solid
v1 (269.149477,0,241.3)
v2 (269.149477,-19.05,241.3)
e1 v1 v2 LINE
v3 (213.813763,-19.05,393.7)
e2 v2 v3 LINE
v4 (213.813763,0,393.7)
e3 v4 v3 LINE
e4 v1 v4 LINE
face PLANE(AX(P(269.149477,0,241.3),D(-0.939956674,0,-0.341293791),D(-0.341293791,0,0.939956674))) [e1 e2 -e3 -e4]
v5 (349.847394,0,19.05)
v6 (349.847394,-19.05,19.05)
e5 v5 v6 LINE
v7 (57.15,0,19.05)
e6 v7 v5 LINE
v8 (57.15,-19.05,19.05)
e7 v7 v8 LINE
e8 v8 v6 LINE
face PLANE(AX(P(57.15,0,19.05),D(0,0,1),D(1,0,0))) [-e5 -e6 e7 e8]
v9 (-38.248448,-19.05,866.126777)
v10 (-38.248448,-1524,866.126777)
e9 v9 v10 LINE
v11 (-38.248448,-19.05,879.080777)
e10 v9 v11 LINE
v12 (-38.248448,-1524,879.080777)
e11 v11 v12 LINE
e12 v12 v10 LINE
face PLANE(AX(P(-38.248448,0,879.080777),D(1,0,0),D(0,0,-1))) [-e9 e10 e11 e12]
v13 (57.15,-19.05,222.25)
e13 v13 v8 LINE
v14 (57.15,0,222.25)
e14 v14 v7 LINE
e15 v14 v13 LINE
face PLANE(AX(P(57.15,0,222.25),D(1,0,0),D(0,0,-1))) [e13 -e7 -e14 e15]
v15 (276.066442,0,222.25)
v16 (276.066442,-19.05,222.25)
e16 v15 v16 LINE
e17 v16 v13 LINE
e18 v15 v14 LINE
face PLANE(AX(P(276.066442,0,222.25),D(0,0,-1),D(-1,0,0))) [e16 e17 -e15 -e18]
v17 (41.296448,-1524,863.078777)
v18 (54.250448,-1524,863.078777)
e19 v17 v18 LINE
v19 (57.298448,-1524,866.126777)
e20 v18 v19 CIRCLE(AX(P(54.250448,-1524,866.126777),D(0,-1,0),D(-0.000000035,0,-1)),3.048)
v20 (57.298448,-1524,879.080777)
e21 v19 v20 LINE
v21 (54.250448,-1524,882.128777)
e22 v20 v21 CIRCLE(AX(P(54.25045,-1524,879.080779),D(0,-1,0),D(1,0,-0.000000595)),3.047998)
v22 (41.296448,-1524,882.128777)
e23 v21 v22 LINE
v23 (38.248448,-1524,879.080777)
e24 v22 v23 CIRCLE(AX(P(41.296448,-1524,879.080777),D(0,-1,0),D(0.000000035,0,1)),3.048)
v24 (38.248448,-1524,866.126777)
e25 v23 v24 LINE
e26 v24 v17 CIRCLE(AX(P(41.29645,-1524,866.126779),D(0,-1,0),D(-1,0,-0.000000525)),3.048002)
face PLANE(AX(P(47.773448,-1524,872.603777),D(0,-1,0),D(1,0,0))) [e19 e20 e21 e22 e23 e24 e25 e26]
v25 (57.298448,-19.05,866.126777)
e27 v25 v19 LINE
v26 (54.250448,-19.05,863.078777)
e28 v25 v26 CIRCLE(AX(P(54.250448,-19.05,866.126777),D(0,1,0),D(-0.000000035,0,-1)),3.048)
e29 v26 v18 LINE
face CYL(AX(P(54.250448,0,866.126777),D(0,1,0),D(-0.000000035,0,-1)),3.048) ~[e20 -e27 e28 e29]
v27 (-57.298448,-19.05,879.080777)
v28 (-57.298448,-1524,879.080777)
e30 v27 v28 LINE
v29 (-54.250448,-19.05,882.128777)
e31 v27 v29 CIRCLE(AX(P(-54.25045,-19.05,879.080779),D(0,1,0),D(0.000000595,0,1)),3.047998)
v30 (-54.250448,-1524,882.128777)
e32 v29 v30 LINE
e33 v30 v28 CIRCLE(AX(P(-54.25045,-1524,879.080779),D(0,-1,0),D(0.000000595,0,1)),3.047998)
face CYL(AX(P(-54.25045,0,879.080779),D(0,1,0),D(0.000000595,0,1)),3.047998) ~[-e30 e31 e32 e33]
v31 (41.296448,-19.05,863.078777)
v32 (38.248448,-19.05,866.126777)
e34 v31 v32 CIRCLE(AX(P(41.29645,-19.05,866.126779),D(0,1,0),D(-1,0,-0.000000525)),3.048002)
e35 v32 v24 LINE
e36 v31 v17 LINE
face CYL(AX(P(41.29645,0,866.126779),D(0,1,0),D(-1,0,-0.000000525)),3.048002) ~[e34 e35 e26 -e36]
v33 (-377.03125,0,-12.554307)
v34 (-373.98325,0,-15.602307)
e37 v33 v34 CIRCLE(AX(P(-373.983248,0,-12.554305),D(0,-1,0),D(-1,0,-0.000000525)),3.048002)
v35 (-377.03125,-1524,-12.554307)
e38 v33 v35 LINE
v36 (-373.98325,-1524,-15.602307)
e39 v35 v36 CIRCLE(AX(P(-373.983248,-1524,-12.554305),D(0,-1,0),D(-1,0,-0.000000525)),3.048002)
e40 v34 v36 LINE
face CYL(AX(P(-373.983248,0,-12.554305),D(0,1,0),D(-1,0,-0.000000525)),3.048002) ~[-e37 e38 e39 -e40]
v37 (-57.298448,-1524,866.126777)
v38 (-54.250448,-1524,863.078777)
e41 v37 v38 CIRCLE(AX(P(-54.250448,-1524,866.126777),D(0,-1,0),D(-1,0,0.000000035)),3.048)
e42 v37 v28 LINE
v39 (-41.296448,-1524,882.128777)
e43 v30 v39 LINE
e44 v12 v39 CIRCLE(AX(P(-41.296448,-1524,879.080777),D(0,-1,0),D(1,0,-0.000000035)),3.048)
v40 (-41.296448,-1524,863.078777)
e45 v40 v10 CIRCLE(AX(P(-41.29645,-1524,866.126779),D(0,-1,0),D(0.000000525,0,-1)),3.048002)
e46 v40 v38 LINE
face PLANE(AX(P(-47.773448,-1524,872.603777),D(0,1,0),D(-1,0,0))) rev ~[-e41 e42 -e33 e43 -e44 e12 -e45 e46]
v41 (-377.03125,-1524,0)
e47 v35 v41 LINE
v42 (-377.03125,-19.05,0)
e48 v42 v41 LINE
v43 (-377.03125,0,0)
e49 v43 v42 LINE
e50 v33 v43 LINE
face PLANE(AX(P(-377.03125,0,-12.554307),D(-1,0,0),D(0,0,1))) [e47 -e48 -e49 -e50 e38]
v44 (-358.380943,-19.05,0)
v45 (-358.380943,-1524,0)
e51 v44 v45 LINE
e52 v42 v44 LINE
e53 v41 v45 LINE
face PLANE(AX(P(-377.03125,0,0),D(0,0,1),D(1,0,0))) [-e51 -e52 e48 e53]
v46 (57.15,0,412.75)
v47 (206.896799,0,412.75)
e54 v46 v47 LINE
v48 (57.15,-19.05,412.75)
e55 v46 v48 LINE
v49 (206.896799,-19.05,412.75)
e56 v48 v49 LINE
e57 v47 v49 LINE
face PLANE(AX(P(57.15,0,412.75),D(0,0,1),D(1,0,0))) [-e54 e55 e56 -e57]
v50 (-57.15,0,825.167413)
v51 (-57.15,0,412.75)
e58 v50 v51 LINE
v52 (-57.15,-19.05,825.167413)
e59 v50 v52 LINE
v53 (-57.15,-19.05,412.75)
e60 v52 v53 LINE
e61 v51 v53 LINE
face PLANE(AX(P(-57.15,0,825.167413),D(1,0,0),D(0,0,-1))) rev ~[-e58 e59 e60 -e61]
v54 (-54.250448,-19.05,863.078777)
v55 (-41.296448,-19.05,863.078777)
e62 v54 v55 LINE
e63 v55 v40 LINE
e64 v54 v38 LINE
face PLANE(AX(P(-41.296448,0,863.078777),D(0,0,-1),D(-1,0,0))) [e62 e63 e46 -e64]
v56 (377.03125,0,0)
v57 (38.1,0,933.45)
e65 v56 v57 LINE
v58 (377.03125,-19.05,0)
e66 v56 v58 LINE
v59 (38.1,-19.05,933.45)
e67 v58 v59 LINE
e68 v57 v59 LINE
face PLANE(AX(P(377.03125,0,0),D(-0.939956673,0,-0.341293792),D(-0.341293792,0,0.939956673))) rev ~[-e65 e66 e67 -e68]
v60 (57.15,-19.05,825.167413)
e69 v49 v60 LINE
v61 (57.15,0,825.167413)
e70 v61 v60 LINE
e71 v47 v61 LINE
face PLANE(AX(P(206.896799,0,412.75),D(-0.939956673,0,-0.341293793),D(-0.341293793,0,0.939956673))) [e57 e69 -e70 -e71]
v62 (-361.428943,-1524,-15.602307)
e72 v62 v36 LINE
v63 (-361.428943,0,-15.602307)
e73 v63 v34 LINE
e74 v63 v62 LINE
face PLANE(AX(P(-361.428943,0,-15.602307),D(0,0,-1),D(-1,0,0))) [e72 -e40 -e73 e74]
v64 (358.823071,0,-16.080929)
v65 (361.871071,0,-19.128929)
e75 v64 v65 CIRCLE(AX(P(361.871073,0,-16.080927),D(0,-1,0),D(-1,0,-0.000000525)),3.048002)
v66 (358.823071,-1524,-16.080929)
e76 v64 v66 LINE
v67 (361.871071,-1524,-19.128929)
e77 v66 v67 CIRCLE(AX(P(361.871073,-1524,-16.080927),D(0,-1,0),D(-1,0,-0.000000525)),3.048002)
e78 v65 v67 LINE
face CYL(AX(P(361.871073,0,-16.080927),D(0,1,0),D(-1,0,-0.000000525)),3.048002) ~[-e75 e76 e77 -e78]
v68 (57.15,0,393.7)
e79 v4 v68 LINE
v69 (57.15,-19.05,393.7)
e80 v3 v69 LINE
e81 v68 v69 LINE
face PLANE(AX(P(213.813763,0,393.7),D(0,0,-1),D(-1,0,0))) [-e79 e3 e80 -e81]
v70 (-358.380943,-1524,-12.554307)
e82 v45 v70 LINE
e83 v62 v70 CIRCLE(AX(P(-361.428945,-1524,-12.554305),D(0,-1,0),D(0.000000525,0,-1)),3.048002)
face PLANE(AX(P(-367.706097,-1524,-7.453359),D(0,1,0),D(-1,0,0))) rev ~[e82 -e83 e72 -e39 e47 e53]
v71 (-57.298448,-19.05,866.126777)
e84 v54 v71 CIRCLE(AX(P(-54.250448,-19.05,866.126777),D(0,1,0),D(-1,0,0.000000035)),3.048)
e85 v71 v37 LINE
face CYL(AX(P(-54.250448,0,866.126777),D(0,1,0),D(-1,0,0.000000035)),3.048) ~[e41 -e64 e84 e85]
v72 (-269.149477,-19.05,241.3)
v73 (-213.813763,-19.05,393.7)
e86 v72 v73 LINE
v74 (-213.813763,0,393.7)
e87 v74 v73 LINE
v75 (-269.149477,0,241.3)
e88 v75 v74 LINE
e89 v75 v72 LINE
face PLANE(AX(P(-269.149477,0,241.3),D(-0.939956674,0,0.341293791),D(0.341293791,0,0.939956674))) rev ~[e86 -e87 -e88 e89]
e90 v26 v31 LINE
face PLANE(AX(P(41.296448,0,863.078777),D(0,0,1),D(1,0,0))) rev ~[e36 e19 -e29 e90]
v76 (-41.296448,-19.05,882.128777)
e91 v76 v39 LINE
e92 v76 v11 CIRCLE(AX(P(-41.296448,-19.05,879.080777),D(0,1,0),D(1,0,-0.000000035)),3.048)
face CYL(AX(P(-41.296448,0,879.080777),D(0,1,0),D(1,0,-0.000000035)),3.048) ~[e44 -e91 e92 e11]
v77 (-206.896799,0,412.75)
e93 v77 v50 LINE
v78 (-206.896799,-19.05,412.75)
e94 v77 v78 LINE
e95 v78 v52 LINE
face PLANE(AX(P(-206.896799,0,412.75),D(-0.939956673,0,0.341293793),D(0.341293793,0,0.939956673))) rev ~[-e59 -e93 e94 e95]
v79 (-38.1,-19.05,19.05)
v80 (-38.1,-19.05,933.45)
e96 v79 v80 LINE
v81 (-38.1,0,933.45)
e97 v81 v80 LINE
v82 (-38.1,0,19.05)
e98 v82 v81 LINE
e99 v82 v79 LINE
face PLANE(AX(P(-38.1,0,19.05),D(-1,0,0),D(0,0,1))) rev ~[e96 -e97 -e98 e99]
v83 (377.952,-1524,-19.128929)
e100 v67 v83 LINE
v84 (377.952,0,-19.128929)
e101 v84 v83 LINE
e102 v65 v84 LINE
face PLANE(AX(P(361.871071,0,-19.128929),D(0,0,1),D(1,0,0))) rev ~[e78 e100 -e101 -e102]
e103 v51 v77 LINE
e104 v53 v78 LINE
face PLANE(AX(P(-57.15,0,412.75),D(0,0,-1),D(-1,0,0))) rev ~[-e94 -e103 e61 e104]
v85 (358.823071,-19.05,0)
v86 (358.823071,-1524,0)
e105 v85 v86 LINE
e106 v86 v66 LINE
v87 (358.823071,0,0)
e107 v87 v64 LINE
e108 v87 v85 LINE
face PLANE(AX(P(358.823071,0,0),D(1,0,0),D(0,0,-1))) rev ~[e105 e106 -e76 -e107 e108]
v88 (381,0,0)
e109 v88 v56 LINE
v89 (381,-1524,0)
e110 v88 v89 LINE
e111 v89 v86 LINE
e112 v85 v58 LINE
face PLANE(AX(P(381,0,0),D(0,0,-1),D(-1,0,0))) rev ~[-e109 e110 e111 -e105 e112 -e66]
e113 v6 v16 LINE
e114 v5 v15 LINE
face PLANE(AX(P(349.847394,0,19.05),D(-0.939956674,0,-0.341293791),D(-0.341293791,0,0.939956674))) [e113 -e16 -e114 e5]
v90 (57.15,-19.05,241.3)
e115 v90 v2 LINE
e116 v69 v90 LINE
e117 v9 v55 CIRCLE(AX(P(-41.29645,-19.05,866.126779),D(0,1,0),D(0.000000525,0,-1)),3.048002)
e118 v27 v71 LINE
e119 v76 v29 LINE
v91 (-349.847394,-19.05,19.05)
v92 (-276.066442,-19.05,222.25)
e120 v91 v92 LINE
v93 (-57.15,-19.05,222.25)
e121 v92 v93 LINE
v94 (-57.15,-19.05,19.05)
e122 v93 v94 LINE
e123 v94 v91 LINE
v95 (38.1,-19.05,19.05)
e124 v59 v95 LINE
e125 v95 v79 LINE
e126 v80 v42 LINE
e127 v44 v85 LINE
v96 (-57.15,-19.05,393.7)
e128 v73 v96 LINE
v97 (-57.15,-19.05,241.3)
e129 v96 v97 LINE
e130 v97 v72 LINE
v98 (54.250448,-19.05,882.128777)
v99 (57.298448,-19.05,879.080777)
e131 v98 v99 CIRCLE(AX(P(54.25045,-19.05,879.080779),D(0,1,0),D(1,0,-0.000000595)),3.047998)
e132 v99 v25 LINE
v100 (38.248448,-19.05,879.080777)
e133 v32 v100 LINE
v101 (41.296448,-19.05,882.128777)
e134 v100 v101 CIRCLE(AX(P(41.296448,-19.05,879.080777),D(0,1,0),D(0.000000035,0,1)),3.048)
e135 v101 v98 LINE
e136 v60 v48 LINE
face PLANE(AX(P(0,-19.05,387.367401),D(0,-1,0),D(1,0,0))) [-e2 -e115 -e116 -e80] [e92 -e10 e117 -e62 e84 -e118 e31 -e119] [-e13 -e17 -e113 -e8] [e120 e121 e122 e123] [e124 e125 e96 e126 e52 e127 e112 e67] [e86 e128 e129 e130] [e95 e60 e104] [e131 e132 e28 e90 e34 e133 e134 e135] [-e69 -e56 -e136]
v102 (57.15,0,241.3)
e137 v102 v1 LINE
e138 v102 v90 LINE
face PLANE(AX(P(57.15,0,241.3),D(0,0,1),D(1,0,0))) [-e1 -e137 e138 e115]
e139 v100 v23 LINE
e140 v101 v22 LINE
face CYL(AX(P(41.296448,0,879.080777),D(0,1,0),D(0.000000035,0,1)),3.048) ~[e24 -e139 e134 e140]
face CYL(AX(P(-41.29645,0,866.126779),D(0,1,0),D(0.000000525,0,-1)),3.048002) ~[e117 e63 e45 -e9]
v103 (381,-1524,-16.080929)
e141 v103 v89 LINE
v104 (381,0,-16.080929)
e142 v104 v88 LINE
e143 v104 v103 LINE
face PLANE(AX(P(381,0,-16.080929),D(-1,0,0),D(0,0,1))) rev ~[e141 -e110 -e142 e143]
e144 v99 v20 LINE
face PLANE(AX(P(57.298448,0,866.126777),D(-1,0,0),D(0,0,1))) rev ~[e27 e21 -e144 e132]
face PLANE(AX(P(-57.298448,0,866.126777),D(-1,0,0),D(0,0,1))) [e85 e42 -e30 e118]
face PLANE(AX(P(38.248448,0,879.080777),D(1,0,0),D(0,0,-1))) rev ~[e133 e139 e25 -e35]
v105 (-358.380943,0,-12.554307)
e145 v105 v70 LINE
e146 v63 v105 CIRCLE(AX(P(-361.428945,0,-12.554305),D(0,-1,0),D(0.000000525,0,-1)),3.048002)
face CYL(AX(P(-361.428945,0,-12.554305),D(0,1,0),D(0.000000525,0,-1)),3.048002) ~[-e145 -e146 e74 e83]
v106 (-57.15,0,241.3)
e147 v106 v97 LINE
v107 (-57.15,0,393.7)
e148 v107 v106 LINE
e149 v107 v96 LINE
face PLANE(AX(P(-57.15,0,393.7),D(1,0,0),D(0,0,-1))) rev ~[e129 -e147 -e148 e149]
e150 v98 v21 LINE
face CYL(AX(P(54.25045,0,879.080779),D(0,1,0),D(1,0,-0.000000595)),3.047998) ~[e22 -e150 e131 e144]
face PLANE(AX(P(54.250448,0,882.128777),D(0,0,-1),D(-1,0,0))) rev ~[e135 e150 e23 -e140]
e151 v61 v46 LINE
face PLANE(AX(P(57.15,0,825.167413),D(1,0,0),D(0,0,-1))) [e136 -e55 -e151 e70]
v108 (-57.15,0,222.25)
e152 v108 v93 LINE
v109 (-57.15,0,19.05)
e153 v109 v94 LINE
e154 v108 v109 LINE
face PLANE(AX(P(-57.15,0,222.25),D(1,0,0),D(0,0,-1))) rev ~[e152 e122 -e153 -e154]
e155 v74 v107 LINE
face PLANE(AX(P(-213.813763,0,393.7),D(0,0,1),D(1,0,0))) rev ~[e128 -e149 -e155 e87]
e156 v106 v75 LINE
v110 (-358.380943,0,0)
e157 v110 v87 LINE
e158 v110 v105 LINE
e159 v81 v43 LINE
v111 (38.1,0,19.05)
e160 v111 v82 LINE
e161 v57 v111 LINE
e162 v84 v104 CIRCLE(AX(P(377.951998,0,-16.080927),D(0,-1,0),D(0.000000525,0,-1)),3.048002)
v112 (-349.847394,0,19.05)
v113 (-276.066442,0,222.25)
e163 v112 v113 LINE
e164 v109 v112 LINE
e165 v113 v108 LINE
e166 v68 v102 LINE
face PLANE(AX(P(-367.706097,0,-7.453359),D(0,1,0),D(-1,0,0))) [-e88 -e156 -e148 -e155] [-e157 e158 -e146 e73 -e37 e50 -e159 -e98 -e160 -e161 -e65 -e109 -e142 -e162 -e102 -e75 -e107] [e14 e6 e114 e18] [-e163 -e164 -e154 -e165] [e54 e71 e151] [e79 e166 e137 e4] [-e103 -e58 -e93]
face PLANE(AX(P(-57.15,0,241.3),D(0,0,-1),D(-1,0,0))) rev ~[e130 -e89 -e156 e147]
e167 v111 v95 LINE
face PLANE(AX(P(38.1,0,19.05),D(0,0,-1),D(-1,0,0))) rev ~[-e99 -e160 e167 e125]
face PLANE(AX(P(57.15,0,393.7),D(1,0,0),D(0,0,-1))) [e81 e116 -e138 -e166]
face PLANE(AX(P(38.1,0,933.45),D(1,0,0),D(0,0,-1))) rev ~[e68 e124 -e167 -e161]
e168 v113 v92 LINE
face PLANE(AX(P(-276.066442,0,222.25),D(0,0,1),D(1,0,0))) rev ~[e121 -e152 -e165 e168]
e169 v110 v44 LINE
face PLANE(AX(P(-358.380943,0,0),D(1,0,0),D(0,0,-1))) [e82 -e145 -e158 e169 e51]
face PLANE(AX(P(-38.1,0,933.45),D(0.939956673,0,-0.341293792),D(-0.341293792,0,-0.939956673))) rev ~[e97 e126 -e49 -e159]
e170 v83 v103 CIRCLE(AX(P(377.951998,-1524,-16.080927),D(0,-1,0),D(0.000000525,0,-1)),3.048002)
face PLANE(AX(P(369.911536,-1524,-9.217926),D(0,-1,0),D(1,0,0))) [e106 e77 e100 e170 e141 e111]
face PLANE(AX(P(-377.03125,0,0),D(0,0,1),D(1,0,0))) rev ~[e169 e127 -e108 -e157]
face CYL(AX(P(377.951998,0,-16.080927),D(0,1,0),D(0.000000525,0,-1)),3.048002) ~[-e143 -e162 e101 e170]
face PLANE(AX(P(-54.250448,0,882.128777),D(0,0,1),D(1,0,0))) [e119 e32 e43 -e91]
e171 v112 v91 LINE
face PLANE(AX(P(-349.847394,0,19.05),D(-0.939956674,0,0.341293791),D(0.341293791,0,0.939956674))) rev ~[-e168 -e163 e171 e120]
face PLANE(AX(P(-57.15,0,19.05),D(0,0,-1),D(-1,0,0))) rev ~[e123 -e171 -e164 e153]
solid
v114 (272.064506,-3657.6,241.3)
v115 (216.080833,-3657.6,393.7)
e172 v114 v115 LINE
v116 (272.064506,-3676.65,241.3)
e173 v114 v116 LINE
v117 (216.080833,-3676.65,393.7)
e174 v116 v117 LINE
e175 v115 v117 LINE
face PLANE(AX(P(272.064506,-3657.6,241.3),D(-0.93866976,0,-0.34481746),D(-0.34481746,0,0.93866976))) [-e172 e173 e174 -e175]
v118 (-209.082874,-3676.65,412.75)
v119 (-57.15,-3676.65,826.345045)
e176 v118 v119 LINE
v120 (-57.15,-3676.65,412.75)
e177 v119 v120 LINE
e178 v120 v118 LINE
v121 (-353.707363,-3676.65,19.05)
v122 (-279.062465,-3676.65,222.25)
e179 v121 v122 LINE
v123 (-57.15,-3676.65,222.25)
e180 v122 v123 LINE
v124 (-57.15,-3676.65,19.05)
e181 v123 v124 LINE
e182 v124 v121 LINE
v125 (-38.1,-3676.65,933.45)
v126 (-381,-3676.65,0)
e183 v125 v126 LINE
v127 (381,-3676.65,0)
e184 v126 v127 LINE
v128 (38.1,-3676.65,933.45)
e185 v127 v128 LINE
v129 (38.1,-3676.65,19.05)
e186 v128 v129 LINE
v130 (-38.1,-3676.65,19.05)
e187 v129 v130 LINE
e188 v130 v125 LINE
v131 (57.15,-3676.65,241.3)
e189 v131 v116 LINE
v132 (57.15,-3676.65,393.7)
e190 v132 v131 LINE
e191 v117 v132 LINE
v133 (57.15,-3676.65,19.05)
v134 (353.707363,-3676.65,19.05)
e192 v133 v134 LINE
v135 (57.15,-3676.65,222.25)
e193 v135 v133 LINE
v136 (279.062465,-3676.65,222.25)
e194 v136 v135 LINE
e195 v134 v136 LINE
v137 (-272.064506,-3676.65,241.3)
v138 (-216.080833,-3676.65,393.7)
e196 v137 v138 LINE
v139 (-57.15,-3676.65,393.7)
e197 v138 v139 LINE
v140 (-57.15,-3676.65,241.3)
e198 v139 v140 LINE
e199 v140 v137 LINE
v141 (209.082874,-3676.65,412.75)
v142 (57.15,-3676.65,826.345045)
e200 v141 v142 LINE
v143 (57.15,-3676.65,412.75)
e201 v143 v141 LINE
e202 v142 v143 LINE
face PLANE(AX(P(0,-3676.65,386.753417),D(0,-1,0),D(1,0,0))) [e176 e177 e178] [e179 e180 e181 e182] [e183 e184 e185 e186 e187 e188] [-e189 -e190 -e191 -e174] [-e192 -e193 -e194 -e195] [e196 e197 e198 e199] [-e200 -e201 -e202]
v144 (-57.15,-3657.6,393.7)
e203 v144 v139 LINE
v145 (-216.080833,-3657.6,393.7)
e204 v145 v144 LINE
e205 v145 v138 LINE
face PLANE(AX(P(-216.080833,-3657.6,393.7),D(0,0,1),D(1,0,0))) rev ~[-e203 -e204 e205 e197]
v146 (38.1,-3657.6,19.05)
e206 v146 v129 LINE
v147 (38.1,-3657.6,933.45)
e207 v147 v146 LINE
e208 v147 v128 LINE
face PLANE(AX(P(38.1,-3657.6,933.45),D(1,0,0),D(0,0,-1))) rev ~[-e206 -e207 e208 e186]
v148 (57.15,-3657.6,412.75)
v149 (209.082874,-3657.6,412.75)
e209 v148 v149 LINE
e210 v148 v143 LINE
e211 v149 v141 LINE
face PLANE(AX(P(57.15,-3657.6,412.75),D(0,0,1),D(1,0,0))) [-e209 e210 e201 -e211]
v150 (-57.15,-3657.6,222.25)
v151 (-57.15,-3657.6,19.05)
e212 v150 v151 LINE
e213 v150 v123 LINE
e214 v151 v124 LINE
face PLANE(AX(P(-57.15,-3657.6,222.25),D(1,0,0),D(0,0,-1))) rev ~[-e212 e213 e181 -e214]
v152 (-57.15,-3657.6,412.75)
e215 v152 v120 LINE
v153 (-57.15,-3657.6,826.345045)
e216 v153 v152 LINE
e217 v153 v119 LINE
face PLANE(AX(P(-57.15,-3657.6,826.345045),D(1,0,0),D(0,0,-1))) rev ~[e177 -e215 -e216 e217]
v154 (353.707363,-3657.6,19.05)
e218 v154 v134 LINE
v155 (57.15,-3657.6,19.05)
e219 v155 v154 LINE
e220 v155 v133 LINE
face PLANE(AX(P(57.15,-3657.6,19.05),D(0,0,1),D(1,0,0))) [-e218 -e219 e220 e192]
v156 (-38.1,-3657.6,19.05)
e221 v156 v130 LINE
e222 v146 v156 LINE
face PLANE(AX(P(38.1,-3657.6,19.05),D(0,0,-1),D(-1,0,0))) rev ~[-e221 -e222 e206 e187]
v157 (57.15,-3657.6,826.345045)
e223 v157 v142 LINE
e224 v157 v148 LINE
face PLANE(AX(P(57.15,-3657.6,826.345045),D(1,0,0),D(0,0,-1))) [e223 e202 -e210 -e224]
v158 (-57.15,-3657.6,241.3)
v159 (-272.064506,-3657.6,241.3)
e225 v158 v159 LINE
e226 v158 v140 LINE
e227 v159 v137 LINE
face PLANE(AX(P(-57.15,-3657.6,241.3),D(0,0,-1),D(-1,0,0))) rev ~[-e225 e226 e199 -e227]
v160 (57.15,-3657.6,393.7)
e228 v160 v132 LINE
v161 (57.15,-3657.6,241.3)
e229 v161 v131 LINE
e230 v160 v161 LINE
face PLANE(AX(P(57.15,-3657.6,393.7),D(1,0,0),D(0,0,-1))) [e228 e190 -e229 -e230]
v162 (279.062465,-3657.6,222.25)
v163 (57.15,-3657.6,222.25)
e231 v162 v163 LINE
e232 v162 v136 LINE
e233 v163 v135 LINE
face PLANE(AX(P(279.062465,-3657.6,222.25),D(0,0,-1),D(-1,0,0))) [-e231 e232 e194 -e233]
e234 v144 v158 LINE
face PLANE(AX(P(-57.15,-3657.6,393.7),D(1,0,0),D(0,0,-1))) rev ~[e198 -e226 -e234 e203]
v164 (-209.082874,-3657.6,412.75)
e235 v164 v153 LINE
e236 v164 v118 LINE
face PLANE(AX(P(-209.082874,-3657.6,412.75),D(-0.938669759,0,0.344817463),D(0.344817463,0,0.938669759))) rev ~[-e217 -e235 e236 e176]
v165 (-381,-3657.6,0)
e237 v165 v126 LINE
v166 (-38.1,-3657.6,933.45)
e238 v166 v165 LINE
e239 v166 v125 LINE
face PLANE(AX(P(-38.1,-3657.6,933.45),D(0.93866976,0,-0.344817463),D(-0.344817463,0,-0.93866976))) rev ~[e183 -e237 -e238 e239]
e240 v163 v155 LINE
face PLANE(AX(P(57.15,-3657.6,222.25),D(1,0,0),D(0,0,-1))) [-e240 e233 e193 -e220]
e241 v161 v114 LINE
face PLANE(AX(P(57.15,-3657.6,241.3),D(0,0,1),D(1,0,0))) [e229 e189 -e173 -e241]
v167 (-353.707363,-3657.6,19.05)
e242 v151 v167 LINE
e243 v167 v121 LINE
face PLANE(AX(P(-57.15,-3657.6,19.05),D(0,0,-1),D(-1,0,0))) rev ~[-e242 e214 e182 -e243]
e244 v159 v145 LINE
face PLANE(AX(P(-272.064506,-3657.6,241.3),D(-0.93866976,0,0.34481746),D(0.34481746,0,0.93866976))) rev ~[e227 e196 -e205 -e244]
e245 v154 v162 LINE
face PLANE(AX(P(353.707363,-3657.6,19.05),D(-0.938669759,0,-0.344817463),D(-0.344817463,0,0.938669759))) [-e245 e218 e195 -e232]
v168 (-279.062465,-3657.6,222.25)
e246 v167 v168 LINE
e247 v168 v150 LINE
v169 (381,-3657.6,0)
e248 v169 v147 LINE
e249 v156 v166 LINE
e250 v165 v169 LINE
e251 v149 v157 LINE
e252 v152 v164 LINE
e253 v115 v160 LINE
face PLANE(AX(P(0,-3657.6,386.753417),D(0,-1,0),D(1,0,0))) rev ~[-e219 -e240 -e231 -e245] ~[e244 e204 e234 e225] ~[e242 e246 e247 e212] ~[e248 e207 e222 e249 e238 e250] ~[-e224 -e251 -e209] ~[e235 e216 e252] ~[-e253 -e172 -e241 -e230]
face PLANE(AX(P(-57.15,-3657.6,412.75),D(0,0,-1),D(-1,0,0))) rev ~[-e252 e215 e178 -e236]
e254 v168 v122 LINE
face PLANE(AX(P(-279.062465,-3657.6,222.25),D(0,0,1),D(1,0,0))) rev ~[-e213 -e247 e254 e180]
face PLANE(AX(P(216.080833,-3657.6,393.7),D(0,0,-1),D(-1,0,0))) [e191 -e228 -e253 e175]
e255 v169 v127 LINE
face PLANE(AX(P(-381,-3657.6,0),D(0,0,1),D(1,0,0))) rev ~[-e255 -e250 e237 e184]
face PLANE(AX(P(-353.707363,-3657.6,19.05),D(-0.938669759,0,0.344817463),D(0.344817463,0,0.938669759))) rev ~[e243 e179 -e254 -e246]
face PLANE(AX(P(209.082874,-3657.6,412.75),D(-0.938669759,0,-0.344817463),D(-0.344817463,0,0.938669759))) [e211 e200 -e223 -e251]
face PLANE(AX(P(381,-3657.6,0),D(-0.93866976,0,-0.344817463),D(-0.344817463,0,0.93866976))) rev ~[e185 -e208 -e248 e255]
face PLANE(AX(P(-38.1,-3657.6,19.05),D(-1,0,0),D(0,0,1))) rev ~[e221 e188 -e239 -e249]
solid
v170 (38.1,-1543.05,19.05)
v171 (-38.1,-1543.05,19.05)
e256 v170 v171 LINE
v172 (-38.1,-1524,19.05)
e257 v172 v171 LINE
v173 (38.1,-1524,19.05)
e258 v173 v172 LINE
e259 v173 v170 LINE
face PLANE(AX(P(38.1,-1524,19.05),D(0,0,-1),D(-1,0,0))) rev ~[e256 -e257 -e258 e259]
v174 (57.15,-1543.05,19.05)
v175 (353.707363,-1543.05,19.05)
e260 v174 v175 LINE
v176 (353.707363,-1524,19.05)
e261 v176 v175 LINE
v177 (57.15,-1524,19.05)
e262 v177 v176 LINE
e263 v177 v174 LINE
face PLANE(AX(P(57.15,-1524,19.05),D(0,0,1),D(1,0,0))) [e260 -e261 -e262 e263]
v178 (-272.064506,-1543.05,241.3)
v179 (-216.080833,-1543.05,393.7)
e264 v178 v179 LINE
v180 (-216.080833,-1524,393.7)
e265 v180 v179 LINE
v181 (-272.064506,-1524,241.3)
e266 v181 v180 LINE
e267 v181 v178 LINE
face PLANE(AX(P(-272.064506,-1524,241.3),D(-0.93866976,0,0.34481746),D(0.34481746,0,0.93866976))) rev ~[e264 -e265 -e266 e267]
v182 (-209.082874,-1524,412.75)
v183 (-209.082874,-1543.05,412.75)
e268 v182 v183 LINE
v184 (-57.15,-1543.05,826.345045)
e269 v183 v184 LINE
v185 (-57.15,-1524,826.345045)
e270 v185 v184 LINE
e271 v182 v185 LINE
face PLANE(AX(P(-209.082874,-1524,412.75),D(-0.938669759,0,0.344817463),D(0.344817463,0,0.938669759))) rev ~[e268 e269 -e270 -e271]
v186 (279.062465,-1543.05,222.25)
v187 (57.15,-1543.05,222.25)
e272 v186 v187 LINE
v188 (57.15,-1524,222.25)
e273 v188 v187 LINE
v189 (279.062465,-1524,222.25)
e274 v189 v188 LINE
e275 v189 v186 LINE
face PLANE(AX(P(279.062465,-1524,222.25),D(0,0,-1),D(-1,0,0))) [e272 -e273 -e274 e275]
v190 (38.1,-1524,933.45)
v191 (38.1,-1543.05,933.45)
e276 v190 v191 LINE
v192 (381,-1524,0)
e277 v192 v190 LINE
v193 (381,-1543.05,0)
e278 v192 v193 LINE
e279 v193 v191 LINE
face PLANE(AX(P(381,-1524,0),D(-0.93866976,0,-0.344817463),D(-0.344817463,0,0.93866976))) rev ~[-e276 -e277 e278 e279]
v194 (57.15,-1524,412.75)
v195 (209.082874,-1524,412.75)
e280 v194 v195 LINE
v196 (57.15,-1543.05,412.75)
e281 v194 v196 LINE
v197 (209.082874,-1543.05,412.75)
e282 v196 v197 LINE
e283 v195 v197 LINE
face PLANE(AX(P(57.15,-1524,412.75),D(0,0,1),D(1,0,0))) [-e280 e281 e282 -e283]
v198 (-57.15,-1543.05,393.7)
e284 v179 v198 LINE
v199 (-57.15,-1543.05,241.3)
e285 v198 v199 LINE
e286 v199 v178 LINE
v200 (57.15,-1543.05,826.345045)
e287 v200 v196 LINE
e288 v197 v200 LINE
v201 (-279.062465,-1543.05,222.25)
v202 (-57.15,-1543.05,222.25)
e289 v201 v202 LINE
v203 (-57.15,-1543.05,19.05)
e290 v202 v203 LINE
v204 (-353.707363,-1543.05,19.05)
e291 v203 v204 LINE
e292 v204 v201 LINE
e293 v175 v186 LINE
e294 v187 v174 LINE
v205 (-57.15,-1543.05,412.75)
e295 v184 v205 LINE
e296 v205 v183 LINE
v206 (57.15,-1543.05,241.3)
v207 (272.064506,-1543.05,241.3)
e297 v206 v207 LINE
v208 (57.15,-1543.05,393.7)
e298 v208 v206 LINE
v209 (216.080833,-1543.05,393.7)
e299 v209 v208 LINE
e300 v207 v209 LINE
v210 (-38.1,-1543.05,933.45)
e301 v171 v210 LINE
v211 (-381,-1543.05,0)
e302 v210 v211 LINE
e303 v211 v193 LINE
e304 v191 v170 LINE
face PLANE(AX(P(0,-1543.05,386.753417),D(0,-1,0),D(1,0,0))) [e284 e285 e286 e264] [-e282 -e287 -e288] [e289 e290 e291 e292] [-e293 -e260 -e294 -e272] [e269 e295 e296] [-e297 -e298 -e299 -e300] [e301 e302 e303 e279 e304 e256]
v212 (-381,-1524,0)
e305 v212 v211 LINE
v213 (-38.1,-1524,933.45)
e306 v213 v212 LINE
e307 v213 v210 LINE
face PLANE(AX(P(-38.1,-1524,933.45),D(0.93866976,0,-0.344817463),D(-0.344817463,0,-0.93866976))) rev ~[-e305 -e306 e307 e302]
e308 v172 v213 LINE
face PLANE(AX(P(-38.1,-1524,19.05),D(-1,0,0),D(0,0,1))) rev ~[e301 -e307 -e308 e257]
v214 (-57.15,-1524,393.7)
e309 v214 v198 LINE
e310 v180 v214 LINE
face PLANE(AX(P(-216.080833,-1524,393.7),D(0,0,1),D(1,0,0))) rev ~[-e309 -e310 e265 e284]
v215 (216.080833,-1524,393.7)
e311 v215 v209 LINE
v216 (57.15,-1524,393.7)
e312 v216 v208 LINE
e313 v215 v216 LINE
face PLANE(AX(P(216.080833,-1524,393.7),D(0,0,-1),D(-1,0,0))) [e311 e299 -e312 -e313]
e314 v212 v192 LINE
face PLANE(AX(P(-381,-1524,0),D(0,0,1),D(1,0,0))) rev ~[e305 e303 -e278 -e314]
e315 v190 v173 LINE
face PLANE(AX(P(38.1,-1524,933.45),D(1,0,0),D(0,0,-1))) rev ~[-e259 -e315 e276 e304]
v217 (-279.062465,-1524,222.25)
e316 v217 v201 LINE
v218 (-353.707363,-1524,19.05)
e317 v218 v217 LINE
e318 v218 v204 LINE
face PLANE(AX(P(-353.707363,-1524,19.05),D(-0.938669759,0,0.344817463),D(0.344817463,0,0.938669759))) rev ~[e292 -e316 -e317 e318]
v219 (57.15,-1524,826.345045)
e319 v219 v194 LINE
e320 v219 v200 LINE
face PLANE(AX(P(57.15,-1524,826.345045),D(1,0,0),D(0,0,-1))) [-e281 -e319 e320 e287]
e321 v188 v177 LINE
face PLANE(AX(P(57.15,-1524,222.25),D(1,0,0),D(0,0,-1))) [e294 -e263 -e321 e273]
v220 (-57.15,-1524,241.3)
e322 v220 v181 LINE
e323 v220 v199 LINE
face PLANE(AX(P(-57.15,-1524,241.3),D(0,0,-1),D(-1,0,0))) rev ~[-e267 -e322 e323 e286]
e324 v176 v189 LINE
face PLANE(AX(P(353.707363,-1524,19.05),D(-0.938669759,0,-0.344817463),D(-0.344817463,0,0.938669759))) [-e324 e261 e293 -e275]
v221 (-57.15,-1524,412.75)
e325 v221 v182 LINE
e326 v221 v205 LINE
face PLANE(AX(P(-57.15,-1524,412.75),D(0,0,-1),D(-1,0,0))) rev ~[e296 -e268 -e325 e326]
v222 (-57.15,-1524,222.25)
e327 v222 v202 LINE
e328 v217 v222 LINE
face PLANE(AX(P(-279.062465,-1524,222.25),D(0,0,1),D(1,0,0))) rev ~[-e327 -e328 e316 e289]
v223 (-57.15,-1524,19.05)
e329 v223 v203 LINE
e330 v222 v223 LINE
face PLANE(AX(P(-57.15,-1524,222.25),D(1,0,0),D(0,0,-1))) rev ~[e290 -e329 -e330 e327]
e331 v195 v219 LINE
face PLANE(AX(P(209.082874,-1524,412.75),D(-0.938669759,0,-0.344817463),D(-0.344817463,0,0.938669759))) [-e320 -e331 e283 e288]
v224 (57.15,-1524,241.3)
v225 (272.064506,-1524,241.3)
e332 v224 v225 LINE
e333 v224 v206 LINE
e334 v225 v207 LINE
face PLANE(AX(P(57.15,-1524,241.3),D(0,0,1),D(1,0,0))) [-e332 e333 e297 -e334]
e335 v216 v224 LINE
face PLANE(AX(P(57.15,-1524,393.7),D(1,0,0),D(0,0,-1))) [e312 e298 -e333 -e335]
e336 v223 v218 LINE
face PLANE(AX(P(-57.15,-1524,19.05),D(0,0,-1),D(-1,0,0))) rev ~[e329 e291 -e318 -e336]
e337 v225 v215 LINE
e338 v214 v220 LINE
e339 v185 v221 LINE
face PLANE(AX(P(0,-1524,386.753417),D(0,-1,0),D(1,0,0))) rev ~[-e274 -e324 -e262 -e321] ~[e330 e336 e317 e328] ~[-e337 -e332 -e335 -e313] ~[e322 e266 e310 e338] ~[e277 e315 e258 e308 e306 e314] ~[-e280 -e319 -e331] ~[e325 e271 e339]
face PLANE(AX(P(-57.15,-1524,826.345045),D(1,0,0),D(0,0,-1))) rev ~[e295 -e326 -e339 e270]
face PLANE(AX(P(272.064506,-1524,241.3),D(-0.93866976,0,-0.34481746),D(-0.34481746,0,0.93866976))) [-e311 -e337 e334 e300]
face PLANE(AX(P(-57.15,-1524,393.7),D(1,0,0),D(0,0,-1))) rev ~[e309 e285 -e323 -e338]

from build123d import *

# Parameters (mm, degrees)
PAD_DEPTH    = 19.05
PAD003_DEPTH = 1524
PAD001_DEPTH = 19.05
PAD002_DEPTH = 19.05


with BuildPart() as body:
    # Sketch → Pad (new body)
    with BuildSketch(Plane.XZ):
        Polygon((-377.03125, 0), (377.03125, 0), (38.1, 933.45), (38.1, 19.05), (-38.1, 19.05), (-38.1, 933.45), align=None)
        Polygon((-276.066442, 222.25), (-57.15, 222.25), (-57.15, 19.05), (-349.847394, 19.05), align=None, mode=Mode.SUBTRACT)
        Polygon((-269.149477, 241.3), (-213.813763, 393.7), (-57.15, 393.7), (-57.15, 241.3), align=None, mode=Mode.SUBTRACT)
        Polygon((-206.896799, 412.75), (-57.15, 825.167413), (-57.15, 412.75), align=None, mode=Mode.SUBTRACT)
        Polygon((57.15, 19.05), (349.847394, 19.05), (276.066442, 222.25), (57.15, 222.25), align=None, mode=Mode.SUBTRACT)
        Polygon((57.15, 241.3), (269.149477, 241.3), (213.813763, 393.7), (57.15, 393.7), align=None, mode=Mode.SUBTRACT)
        Polygon((57.15, 412.75), (206.896799, 412.75), (57.15, 825.167413), align=None, mode=Mode.SUBTRACT)
    extrude(amount=PAD_DEPTH)

    # Sketch003 → Pad003 (join)
    with BuildSketch(Plane.XZ):
        with BuildLine():
            Line((-377.03125, 0), (-358.380943, 0))
            Line((-358.380943, 0), (-358.380943, -12.554307))
            ThreePointArc((-361.428943, -15.602307), (-359.273682, -14.709568), (-358.380943, -12.554307))
            Line((-361.428943, -15.602307), (-373.98325, -15.602307))
            ThreePointArc((-377.03125, -12.554307), (-376.138511, -14.709568), (-373.98325, -15.602307))
            Line((-377.03125, -12.554307), (-377.03125, 0))
        make_face()
        with BuildLine():
            Line((381, 0), (358.823071, 0))
            Line((358.823071, 0), (358.823071, -16.080929))
            ThreePointArc((358.823071, -16.080929), (359.71581, -18.23619), (361.871071, -19.128929))
            Line((361.871071, -19.128929), (377.952, -19.128929))
            ThreePointArc((377.952, -19.128929), (380.107261, -18.23619), (381, -16.080929))
            Line((381, -16.080929), (381, 0))
        make_face()
        with BuildLine():
            Line((54.250448, 882.128777), (41.296448, 882.128777))
            ThreePointArc((41.296448, 882.128777), (39.141187, 881.236039), (38.248448, 879.080777))
            Line((38.248448, 879.080777), (38.248448, 866.126777))
            ThreePointArc((38.248448, 866.126777), (39.141187, 863.971516), (41.296448, 863.078777))
            Line((41.296448, 863.078777), (54.250448, 863.078777))
            ThreePointArc((54.250448, 863.078777), (56.40571, 863.971516), (57.298448, 866.126777))
            Line((57.298448, 866.126777), (57.298448, 879.080777))
            ThreePointArc((57.298448, 879.080777), (56.40571, 881.236039), (54.250448, 882.128777))
        make_face()
        with BuildLine():
            Line((-54.250448, 882.128777), (-41.296448, 882.128777))
            ThreePointArc((-38.248448, 879.080777), (-39.141187, 881.236039), (-41.296448, 882.128777))
            Line((-38.248448, 879.080777), (-38.248448, 866.126777))
            ThreePointArc((-41.296448, 863.078777), (-39.141187, 863.971516), (-38.248448, 866.126777))
            Line((-41.296448, 863.078777), (-54.250448, 863.078777))
            ThreePointArc((-57.298448, 866.126777), (-56.40571, 863.971516), (-54.250448, 863.078777))
            Line((-57.298448, 866.126777), (-57.298448, 879.080777))
            ThreePointArc((-54.250448, 882.128777), (-56.40571, 881.236039), (-57.298448, 879.080777))
        make_face()
    extrude(amount=PAD003_DEPTH)


with BuildPart() as pad001:
    # Sketch001 → Pad001 (new body)
    with BuildSketch(Plane.XZ.offset(1524)):
        Polygon((-381, 0), (381, 0), (38.1, 933.45), (38.1, 19.05), (-38.1, 19.05), (-38.1, 933.45), align=None)
        Polygon((-279.062465, 222.25), (-57.15, 222.25), (-57.15, 19.05), (-353.707363, 19.05), align=None, mode=Mode.SUBTRACT)
        Polygon((-272.064506, 241.3), (-216.080833, 393.7), (-57.15, 393.7), (-57.15, 241.3), align=None, mode=Mode.SUBTRACT)
        Polygon((-209.082874, 412.75), (-57.15, 826.345045), (-57.15, 412.75), align=None, mode=Mode.SUBTRACT)
        Polygon((57.15, 19.05), (353.707363, 19.05), (279.062465, 222.25), (57.15, 222.25), align=None, mode=Mode.SUBTRACT)
        Polygon((57.15, 241.3), (272.064506, 241.3), (216.080833, 393.7), (57.15, 393.7), align=None, mode=Mode.SUBTRACT)
        Polygon((57.15, 412.75), (209.082874, 412.75), (57.15, 826.345045), align=None, mode=Mode.SUBTRACT)
    extrude(amount=PAD001_DEPTH)


with BuildPart() as pad002:
    # Sketch002 → Pad002 (new body)
    with BuildSketch(Plane.XZ.offset(3657.6)):
        Polygon((-381, 0), (381, 0), (38.1, 933.45), (38.1, 19.05), (-38.1, 19.05), (-38.1, 933.45), align=None)
        Polygon((-279.062465, 222.25), (-57.15, 222.25), (-57.15, 19.05), (-353.707363, 19.05), align=None, mode=Mode.SUBTRACT)
        Polygon((-272.064506, 241.3), (-216.080833, 393.7), (-57.15, 393.7), (-57.15, 241.3), align=None, mode=Mode.SUBTRACT)
        Polygon((-209.082874, 412.75), (-57.15, 826.345045), (-57.15, 412.75), align=None, mode=Mode.SUBTRACT)
        Polygon((57.15, 19.05), (353.707363, 19.05), (279.062465, 222.25), (57.15, 222.25), align=None, mode=Mode.SUBTRACT)
        Polygon((57.15, 241.3), (272.064506, 241.3), (216.080833, 393.7), (57.15, 393.7), align=None, mode=Mode.SUBTRACT)
        Polygon((57.15, 412.75), (209.082874, 412.75), (57.15, 826.345045), align=None, mode=Mode.SUBTRACT)
    extrude(amount=PAD002_DEPTH)


solid = Compound([body.part, pad001.part, pad002.part])
